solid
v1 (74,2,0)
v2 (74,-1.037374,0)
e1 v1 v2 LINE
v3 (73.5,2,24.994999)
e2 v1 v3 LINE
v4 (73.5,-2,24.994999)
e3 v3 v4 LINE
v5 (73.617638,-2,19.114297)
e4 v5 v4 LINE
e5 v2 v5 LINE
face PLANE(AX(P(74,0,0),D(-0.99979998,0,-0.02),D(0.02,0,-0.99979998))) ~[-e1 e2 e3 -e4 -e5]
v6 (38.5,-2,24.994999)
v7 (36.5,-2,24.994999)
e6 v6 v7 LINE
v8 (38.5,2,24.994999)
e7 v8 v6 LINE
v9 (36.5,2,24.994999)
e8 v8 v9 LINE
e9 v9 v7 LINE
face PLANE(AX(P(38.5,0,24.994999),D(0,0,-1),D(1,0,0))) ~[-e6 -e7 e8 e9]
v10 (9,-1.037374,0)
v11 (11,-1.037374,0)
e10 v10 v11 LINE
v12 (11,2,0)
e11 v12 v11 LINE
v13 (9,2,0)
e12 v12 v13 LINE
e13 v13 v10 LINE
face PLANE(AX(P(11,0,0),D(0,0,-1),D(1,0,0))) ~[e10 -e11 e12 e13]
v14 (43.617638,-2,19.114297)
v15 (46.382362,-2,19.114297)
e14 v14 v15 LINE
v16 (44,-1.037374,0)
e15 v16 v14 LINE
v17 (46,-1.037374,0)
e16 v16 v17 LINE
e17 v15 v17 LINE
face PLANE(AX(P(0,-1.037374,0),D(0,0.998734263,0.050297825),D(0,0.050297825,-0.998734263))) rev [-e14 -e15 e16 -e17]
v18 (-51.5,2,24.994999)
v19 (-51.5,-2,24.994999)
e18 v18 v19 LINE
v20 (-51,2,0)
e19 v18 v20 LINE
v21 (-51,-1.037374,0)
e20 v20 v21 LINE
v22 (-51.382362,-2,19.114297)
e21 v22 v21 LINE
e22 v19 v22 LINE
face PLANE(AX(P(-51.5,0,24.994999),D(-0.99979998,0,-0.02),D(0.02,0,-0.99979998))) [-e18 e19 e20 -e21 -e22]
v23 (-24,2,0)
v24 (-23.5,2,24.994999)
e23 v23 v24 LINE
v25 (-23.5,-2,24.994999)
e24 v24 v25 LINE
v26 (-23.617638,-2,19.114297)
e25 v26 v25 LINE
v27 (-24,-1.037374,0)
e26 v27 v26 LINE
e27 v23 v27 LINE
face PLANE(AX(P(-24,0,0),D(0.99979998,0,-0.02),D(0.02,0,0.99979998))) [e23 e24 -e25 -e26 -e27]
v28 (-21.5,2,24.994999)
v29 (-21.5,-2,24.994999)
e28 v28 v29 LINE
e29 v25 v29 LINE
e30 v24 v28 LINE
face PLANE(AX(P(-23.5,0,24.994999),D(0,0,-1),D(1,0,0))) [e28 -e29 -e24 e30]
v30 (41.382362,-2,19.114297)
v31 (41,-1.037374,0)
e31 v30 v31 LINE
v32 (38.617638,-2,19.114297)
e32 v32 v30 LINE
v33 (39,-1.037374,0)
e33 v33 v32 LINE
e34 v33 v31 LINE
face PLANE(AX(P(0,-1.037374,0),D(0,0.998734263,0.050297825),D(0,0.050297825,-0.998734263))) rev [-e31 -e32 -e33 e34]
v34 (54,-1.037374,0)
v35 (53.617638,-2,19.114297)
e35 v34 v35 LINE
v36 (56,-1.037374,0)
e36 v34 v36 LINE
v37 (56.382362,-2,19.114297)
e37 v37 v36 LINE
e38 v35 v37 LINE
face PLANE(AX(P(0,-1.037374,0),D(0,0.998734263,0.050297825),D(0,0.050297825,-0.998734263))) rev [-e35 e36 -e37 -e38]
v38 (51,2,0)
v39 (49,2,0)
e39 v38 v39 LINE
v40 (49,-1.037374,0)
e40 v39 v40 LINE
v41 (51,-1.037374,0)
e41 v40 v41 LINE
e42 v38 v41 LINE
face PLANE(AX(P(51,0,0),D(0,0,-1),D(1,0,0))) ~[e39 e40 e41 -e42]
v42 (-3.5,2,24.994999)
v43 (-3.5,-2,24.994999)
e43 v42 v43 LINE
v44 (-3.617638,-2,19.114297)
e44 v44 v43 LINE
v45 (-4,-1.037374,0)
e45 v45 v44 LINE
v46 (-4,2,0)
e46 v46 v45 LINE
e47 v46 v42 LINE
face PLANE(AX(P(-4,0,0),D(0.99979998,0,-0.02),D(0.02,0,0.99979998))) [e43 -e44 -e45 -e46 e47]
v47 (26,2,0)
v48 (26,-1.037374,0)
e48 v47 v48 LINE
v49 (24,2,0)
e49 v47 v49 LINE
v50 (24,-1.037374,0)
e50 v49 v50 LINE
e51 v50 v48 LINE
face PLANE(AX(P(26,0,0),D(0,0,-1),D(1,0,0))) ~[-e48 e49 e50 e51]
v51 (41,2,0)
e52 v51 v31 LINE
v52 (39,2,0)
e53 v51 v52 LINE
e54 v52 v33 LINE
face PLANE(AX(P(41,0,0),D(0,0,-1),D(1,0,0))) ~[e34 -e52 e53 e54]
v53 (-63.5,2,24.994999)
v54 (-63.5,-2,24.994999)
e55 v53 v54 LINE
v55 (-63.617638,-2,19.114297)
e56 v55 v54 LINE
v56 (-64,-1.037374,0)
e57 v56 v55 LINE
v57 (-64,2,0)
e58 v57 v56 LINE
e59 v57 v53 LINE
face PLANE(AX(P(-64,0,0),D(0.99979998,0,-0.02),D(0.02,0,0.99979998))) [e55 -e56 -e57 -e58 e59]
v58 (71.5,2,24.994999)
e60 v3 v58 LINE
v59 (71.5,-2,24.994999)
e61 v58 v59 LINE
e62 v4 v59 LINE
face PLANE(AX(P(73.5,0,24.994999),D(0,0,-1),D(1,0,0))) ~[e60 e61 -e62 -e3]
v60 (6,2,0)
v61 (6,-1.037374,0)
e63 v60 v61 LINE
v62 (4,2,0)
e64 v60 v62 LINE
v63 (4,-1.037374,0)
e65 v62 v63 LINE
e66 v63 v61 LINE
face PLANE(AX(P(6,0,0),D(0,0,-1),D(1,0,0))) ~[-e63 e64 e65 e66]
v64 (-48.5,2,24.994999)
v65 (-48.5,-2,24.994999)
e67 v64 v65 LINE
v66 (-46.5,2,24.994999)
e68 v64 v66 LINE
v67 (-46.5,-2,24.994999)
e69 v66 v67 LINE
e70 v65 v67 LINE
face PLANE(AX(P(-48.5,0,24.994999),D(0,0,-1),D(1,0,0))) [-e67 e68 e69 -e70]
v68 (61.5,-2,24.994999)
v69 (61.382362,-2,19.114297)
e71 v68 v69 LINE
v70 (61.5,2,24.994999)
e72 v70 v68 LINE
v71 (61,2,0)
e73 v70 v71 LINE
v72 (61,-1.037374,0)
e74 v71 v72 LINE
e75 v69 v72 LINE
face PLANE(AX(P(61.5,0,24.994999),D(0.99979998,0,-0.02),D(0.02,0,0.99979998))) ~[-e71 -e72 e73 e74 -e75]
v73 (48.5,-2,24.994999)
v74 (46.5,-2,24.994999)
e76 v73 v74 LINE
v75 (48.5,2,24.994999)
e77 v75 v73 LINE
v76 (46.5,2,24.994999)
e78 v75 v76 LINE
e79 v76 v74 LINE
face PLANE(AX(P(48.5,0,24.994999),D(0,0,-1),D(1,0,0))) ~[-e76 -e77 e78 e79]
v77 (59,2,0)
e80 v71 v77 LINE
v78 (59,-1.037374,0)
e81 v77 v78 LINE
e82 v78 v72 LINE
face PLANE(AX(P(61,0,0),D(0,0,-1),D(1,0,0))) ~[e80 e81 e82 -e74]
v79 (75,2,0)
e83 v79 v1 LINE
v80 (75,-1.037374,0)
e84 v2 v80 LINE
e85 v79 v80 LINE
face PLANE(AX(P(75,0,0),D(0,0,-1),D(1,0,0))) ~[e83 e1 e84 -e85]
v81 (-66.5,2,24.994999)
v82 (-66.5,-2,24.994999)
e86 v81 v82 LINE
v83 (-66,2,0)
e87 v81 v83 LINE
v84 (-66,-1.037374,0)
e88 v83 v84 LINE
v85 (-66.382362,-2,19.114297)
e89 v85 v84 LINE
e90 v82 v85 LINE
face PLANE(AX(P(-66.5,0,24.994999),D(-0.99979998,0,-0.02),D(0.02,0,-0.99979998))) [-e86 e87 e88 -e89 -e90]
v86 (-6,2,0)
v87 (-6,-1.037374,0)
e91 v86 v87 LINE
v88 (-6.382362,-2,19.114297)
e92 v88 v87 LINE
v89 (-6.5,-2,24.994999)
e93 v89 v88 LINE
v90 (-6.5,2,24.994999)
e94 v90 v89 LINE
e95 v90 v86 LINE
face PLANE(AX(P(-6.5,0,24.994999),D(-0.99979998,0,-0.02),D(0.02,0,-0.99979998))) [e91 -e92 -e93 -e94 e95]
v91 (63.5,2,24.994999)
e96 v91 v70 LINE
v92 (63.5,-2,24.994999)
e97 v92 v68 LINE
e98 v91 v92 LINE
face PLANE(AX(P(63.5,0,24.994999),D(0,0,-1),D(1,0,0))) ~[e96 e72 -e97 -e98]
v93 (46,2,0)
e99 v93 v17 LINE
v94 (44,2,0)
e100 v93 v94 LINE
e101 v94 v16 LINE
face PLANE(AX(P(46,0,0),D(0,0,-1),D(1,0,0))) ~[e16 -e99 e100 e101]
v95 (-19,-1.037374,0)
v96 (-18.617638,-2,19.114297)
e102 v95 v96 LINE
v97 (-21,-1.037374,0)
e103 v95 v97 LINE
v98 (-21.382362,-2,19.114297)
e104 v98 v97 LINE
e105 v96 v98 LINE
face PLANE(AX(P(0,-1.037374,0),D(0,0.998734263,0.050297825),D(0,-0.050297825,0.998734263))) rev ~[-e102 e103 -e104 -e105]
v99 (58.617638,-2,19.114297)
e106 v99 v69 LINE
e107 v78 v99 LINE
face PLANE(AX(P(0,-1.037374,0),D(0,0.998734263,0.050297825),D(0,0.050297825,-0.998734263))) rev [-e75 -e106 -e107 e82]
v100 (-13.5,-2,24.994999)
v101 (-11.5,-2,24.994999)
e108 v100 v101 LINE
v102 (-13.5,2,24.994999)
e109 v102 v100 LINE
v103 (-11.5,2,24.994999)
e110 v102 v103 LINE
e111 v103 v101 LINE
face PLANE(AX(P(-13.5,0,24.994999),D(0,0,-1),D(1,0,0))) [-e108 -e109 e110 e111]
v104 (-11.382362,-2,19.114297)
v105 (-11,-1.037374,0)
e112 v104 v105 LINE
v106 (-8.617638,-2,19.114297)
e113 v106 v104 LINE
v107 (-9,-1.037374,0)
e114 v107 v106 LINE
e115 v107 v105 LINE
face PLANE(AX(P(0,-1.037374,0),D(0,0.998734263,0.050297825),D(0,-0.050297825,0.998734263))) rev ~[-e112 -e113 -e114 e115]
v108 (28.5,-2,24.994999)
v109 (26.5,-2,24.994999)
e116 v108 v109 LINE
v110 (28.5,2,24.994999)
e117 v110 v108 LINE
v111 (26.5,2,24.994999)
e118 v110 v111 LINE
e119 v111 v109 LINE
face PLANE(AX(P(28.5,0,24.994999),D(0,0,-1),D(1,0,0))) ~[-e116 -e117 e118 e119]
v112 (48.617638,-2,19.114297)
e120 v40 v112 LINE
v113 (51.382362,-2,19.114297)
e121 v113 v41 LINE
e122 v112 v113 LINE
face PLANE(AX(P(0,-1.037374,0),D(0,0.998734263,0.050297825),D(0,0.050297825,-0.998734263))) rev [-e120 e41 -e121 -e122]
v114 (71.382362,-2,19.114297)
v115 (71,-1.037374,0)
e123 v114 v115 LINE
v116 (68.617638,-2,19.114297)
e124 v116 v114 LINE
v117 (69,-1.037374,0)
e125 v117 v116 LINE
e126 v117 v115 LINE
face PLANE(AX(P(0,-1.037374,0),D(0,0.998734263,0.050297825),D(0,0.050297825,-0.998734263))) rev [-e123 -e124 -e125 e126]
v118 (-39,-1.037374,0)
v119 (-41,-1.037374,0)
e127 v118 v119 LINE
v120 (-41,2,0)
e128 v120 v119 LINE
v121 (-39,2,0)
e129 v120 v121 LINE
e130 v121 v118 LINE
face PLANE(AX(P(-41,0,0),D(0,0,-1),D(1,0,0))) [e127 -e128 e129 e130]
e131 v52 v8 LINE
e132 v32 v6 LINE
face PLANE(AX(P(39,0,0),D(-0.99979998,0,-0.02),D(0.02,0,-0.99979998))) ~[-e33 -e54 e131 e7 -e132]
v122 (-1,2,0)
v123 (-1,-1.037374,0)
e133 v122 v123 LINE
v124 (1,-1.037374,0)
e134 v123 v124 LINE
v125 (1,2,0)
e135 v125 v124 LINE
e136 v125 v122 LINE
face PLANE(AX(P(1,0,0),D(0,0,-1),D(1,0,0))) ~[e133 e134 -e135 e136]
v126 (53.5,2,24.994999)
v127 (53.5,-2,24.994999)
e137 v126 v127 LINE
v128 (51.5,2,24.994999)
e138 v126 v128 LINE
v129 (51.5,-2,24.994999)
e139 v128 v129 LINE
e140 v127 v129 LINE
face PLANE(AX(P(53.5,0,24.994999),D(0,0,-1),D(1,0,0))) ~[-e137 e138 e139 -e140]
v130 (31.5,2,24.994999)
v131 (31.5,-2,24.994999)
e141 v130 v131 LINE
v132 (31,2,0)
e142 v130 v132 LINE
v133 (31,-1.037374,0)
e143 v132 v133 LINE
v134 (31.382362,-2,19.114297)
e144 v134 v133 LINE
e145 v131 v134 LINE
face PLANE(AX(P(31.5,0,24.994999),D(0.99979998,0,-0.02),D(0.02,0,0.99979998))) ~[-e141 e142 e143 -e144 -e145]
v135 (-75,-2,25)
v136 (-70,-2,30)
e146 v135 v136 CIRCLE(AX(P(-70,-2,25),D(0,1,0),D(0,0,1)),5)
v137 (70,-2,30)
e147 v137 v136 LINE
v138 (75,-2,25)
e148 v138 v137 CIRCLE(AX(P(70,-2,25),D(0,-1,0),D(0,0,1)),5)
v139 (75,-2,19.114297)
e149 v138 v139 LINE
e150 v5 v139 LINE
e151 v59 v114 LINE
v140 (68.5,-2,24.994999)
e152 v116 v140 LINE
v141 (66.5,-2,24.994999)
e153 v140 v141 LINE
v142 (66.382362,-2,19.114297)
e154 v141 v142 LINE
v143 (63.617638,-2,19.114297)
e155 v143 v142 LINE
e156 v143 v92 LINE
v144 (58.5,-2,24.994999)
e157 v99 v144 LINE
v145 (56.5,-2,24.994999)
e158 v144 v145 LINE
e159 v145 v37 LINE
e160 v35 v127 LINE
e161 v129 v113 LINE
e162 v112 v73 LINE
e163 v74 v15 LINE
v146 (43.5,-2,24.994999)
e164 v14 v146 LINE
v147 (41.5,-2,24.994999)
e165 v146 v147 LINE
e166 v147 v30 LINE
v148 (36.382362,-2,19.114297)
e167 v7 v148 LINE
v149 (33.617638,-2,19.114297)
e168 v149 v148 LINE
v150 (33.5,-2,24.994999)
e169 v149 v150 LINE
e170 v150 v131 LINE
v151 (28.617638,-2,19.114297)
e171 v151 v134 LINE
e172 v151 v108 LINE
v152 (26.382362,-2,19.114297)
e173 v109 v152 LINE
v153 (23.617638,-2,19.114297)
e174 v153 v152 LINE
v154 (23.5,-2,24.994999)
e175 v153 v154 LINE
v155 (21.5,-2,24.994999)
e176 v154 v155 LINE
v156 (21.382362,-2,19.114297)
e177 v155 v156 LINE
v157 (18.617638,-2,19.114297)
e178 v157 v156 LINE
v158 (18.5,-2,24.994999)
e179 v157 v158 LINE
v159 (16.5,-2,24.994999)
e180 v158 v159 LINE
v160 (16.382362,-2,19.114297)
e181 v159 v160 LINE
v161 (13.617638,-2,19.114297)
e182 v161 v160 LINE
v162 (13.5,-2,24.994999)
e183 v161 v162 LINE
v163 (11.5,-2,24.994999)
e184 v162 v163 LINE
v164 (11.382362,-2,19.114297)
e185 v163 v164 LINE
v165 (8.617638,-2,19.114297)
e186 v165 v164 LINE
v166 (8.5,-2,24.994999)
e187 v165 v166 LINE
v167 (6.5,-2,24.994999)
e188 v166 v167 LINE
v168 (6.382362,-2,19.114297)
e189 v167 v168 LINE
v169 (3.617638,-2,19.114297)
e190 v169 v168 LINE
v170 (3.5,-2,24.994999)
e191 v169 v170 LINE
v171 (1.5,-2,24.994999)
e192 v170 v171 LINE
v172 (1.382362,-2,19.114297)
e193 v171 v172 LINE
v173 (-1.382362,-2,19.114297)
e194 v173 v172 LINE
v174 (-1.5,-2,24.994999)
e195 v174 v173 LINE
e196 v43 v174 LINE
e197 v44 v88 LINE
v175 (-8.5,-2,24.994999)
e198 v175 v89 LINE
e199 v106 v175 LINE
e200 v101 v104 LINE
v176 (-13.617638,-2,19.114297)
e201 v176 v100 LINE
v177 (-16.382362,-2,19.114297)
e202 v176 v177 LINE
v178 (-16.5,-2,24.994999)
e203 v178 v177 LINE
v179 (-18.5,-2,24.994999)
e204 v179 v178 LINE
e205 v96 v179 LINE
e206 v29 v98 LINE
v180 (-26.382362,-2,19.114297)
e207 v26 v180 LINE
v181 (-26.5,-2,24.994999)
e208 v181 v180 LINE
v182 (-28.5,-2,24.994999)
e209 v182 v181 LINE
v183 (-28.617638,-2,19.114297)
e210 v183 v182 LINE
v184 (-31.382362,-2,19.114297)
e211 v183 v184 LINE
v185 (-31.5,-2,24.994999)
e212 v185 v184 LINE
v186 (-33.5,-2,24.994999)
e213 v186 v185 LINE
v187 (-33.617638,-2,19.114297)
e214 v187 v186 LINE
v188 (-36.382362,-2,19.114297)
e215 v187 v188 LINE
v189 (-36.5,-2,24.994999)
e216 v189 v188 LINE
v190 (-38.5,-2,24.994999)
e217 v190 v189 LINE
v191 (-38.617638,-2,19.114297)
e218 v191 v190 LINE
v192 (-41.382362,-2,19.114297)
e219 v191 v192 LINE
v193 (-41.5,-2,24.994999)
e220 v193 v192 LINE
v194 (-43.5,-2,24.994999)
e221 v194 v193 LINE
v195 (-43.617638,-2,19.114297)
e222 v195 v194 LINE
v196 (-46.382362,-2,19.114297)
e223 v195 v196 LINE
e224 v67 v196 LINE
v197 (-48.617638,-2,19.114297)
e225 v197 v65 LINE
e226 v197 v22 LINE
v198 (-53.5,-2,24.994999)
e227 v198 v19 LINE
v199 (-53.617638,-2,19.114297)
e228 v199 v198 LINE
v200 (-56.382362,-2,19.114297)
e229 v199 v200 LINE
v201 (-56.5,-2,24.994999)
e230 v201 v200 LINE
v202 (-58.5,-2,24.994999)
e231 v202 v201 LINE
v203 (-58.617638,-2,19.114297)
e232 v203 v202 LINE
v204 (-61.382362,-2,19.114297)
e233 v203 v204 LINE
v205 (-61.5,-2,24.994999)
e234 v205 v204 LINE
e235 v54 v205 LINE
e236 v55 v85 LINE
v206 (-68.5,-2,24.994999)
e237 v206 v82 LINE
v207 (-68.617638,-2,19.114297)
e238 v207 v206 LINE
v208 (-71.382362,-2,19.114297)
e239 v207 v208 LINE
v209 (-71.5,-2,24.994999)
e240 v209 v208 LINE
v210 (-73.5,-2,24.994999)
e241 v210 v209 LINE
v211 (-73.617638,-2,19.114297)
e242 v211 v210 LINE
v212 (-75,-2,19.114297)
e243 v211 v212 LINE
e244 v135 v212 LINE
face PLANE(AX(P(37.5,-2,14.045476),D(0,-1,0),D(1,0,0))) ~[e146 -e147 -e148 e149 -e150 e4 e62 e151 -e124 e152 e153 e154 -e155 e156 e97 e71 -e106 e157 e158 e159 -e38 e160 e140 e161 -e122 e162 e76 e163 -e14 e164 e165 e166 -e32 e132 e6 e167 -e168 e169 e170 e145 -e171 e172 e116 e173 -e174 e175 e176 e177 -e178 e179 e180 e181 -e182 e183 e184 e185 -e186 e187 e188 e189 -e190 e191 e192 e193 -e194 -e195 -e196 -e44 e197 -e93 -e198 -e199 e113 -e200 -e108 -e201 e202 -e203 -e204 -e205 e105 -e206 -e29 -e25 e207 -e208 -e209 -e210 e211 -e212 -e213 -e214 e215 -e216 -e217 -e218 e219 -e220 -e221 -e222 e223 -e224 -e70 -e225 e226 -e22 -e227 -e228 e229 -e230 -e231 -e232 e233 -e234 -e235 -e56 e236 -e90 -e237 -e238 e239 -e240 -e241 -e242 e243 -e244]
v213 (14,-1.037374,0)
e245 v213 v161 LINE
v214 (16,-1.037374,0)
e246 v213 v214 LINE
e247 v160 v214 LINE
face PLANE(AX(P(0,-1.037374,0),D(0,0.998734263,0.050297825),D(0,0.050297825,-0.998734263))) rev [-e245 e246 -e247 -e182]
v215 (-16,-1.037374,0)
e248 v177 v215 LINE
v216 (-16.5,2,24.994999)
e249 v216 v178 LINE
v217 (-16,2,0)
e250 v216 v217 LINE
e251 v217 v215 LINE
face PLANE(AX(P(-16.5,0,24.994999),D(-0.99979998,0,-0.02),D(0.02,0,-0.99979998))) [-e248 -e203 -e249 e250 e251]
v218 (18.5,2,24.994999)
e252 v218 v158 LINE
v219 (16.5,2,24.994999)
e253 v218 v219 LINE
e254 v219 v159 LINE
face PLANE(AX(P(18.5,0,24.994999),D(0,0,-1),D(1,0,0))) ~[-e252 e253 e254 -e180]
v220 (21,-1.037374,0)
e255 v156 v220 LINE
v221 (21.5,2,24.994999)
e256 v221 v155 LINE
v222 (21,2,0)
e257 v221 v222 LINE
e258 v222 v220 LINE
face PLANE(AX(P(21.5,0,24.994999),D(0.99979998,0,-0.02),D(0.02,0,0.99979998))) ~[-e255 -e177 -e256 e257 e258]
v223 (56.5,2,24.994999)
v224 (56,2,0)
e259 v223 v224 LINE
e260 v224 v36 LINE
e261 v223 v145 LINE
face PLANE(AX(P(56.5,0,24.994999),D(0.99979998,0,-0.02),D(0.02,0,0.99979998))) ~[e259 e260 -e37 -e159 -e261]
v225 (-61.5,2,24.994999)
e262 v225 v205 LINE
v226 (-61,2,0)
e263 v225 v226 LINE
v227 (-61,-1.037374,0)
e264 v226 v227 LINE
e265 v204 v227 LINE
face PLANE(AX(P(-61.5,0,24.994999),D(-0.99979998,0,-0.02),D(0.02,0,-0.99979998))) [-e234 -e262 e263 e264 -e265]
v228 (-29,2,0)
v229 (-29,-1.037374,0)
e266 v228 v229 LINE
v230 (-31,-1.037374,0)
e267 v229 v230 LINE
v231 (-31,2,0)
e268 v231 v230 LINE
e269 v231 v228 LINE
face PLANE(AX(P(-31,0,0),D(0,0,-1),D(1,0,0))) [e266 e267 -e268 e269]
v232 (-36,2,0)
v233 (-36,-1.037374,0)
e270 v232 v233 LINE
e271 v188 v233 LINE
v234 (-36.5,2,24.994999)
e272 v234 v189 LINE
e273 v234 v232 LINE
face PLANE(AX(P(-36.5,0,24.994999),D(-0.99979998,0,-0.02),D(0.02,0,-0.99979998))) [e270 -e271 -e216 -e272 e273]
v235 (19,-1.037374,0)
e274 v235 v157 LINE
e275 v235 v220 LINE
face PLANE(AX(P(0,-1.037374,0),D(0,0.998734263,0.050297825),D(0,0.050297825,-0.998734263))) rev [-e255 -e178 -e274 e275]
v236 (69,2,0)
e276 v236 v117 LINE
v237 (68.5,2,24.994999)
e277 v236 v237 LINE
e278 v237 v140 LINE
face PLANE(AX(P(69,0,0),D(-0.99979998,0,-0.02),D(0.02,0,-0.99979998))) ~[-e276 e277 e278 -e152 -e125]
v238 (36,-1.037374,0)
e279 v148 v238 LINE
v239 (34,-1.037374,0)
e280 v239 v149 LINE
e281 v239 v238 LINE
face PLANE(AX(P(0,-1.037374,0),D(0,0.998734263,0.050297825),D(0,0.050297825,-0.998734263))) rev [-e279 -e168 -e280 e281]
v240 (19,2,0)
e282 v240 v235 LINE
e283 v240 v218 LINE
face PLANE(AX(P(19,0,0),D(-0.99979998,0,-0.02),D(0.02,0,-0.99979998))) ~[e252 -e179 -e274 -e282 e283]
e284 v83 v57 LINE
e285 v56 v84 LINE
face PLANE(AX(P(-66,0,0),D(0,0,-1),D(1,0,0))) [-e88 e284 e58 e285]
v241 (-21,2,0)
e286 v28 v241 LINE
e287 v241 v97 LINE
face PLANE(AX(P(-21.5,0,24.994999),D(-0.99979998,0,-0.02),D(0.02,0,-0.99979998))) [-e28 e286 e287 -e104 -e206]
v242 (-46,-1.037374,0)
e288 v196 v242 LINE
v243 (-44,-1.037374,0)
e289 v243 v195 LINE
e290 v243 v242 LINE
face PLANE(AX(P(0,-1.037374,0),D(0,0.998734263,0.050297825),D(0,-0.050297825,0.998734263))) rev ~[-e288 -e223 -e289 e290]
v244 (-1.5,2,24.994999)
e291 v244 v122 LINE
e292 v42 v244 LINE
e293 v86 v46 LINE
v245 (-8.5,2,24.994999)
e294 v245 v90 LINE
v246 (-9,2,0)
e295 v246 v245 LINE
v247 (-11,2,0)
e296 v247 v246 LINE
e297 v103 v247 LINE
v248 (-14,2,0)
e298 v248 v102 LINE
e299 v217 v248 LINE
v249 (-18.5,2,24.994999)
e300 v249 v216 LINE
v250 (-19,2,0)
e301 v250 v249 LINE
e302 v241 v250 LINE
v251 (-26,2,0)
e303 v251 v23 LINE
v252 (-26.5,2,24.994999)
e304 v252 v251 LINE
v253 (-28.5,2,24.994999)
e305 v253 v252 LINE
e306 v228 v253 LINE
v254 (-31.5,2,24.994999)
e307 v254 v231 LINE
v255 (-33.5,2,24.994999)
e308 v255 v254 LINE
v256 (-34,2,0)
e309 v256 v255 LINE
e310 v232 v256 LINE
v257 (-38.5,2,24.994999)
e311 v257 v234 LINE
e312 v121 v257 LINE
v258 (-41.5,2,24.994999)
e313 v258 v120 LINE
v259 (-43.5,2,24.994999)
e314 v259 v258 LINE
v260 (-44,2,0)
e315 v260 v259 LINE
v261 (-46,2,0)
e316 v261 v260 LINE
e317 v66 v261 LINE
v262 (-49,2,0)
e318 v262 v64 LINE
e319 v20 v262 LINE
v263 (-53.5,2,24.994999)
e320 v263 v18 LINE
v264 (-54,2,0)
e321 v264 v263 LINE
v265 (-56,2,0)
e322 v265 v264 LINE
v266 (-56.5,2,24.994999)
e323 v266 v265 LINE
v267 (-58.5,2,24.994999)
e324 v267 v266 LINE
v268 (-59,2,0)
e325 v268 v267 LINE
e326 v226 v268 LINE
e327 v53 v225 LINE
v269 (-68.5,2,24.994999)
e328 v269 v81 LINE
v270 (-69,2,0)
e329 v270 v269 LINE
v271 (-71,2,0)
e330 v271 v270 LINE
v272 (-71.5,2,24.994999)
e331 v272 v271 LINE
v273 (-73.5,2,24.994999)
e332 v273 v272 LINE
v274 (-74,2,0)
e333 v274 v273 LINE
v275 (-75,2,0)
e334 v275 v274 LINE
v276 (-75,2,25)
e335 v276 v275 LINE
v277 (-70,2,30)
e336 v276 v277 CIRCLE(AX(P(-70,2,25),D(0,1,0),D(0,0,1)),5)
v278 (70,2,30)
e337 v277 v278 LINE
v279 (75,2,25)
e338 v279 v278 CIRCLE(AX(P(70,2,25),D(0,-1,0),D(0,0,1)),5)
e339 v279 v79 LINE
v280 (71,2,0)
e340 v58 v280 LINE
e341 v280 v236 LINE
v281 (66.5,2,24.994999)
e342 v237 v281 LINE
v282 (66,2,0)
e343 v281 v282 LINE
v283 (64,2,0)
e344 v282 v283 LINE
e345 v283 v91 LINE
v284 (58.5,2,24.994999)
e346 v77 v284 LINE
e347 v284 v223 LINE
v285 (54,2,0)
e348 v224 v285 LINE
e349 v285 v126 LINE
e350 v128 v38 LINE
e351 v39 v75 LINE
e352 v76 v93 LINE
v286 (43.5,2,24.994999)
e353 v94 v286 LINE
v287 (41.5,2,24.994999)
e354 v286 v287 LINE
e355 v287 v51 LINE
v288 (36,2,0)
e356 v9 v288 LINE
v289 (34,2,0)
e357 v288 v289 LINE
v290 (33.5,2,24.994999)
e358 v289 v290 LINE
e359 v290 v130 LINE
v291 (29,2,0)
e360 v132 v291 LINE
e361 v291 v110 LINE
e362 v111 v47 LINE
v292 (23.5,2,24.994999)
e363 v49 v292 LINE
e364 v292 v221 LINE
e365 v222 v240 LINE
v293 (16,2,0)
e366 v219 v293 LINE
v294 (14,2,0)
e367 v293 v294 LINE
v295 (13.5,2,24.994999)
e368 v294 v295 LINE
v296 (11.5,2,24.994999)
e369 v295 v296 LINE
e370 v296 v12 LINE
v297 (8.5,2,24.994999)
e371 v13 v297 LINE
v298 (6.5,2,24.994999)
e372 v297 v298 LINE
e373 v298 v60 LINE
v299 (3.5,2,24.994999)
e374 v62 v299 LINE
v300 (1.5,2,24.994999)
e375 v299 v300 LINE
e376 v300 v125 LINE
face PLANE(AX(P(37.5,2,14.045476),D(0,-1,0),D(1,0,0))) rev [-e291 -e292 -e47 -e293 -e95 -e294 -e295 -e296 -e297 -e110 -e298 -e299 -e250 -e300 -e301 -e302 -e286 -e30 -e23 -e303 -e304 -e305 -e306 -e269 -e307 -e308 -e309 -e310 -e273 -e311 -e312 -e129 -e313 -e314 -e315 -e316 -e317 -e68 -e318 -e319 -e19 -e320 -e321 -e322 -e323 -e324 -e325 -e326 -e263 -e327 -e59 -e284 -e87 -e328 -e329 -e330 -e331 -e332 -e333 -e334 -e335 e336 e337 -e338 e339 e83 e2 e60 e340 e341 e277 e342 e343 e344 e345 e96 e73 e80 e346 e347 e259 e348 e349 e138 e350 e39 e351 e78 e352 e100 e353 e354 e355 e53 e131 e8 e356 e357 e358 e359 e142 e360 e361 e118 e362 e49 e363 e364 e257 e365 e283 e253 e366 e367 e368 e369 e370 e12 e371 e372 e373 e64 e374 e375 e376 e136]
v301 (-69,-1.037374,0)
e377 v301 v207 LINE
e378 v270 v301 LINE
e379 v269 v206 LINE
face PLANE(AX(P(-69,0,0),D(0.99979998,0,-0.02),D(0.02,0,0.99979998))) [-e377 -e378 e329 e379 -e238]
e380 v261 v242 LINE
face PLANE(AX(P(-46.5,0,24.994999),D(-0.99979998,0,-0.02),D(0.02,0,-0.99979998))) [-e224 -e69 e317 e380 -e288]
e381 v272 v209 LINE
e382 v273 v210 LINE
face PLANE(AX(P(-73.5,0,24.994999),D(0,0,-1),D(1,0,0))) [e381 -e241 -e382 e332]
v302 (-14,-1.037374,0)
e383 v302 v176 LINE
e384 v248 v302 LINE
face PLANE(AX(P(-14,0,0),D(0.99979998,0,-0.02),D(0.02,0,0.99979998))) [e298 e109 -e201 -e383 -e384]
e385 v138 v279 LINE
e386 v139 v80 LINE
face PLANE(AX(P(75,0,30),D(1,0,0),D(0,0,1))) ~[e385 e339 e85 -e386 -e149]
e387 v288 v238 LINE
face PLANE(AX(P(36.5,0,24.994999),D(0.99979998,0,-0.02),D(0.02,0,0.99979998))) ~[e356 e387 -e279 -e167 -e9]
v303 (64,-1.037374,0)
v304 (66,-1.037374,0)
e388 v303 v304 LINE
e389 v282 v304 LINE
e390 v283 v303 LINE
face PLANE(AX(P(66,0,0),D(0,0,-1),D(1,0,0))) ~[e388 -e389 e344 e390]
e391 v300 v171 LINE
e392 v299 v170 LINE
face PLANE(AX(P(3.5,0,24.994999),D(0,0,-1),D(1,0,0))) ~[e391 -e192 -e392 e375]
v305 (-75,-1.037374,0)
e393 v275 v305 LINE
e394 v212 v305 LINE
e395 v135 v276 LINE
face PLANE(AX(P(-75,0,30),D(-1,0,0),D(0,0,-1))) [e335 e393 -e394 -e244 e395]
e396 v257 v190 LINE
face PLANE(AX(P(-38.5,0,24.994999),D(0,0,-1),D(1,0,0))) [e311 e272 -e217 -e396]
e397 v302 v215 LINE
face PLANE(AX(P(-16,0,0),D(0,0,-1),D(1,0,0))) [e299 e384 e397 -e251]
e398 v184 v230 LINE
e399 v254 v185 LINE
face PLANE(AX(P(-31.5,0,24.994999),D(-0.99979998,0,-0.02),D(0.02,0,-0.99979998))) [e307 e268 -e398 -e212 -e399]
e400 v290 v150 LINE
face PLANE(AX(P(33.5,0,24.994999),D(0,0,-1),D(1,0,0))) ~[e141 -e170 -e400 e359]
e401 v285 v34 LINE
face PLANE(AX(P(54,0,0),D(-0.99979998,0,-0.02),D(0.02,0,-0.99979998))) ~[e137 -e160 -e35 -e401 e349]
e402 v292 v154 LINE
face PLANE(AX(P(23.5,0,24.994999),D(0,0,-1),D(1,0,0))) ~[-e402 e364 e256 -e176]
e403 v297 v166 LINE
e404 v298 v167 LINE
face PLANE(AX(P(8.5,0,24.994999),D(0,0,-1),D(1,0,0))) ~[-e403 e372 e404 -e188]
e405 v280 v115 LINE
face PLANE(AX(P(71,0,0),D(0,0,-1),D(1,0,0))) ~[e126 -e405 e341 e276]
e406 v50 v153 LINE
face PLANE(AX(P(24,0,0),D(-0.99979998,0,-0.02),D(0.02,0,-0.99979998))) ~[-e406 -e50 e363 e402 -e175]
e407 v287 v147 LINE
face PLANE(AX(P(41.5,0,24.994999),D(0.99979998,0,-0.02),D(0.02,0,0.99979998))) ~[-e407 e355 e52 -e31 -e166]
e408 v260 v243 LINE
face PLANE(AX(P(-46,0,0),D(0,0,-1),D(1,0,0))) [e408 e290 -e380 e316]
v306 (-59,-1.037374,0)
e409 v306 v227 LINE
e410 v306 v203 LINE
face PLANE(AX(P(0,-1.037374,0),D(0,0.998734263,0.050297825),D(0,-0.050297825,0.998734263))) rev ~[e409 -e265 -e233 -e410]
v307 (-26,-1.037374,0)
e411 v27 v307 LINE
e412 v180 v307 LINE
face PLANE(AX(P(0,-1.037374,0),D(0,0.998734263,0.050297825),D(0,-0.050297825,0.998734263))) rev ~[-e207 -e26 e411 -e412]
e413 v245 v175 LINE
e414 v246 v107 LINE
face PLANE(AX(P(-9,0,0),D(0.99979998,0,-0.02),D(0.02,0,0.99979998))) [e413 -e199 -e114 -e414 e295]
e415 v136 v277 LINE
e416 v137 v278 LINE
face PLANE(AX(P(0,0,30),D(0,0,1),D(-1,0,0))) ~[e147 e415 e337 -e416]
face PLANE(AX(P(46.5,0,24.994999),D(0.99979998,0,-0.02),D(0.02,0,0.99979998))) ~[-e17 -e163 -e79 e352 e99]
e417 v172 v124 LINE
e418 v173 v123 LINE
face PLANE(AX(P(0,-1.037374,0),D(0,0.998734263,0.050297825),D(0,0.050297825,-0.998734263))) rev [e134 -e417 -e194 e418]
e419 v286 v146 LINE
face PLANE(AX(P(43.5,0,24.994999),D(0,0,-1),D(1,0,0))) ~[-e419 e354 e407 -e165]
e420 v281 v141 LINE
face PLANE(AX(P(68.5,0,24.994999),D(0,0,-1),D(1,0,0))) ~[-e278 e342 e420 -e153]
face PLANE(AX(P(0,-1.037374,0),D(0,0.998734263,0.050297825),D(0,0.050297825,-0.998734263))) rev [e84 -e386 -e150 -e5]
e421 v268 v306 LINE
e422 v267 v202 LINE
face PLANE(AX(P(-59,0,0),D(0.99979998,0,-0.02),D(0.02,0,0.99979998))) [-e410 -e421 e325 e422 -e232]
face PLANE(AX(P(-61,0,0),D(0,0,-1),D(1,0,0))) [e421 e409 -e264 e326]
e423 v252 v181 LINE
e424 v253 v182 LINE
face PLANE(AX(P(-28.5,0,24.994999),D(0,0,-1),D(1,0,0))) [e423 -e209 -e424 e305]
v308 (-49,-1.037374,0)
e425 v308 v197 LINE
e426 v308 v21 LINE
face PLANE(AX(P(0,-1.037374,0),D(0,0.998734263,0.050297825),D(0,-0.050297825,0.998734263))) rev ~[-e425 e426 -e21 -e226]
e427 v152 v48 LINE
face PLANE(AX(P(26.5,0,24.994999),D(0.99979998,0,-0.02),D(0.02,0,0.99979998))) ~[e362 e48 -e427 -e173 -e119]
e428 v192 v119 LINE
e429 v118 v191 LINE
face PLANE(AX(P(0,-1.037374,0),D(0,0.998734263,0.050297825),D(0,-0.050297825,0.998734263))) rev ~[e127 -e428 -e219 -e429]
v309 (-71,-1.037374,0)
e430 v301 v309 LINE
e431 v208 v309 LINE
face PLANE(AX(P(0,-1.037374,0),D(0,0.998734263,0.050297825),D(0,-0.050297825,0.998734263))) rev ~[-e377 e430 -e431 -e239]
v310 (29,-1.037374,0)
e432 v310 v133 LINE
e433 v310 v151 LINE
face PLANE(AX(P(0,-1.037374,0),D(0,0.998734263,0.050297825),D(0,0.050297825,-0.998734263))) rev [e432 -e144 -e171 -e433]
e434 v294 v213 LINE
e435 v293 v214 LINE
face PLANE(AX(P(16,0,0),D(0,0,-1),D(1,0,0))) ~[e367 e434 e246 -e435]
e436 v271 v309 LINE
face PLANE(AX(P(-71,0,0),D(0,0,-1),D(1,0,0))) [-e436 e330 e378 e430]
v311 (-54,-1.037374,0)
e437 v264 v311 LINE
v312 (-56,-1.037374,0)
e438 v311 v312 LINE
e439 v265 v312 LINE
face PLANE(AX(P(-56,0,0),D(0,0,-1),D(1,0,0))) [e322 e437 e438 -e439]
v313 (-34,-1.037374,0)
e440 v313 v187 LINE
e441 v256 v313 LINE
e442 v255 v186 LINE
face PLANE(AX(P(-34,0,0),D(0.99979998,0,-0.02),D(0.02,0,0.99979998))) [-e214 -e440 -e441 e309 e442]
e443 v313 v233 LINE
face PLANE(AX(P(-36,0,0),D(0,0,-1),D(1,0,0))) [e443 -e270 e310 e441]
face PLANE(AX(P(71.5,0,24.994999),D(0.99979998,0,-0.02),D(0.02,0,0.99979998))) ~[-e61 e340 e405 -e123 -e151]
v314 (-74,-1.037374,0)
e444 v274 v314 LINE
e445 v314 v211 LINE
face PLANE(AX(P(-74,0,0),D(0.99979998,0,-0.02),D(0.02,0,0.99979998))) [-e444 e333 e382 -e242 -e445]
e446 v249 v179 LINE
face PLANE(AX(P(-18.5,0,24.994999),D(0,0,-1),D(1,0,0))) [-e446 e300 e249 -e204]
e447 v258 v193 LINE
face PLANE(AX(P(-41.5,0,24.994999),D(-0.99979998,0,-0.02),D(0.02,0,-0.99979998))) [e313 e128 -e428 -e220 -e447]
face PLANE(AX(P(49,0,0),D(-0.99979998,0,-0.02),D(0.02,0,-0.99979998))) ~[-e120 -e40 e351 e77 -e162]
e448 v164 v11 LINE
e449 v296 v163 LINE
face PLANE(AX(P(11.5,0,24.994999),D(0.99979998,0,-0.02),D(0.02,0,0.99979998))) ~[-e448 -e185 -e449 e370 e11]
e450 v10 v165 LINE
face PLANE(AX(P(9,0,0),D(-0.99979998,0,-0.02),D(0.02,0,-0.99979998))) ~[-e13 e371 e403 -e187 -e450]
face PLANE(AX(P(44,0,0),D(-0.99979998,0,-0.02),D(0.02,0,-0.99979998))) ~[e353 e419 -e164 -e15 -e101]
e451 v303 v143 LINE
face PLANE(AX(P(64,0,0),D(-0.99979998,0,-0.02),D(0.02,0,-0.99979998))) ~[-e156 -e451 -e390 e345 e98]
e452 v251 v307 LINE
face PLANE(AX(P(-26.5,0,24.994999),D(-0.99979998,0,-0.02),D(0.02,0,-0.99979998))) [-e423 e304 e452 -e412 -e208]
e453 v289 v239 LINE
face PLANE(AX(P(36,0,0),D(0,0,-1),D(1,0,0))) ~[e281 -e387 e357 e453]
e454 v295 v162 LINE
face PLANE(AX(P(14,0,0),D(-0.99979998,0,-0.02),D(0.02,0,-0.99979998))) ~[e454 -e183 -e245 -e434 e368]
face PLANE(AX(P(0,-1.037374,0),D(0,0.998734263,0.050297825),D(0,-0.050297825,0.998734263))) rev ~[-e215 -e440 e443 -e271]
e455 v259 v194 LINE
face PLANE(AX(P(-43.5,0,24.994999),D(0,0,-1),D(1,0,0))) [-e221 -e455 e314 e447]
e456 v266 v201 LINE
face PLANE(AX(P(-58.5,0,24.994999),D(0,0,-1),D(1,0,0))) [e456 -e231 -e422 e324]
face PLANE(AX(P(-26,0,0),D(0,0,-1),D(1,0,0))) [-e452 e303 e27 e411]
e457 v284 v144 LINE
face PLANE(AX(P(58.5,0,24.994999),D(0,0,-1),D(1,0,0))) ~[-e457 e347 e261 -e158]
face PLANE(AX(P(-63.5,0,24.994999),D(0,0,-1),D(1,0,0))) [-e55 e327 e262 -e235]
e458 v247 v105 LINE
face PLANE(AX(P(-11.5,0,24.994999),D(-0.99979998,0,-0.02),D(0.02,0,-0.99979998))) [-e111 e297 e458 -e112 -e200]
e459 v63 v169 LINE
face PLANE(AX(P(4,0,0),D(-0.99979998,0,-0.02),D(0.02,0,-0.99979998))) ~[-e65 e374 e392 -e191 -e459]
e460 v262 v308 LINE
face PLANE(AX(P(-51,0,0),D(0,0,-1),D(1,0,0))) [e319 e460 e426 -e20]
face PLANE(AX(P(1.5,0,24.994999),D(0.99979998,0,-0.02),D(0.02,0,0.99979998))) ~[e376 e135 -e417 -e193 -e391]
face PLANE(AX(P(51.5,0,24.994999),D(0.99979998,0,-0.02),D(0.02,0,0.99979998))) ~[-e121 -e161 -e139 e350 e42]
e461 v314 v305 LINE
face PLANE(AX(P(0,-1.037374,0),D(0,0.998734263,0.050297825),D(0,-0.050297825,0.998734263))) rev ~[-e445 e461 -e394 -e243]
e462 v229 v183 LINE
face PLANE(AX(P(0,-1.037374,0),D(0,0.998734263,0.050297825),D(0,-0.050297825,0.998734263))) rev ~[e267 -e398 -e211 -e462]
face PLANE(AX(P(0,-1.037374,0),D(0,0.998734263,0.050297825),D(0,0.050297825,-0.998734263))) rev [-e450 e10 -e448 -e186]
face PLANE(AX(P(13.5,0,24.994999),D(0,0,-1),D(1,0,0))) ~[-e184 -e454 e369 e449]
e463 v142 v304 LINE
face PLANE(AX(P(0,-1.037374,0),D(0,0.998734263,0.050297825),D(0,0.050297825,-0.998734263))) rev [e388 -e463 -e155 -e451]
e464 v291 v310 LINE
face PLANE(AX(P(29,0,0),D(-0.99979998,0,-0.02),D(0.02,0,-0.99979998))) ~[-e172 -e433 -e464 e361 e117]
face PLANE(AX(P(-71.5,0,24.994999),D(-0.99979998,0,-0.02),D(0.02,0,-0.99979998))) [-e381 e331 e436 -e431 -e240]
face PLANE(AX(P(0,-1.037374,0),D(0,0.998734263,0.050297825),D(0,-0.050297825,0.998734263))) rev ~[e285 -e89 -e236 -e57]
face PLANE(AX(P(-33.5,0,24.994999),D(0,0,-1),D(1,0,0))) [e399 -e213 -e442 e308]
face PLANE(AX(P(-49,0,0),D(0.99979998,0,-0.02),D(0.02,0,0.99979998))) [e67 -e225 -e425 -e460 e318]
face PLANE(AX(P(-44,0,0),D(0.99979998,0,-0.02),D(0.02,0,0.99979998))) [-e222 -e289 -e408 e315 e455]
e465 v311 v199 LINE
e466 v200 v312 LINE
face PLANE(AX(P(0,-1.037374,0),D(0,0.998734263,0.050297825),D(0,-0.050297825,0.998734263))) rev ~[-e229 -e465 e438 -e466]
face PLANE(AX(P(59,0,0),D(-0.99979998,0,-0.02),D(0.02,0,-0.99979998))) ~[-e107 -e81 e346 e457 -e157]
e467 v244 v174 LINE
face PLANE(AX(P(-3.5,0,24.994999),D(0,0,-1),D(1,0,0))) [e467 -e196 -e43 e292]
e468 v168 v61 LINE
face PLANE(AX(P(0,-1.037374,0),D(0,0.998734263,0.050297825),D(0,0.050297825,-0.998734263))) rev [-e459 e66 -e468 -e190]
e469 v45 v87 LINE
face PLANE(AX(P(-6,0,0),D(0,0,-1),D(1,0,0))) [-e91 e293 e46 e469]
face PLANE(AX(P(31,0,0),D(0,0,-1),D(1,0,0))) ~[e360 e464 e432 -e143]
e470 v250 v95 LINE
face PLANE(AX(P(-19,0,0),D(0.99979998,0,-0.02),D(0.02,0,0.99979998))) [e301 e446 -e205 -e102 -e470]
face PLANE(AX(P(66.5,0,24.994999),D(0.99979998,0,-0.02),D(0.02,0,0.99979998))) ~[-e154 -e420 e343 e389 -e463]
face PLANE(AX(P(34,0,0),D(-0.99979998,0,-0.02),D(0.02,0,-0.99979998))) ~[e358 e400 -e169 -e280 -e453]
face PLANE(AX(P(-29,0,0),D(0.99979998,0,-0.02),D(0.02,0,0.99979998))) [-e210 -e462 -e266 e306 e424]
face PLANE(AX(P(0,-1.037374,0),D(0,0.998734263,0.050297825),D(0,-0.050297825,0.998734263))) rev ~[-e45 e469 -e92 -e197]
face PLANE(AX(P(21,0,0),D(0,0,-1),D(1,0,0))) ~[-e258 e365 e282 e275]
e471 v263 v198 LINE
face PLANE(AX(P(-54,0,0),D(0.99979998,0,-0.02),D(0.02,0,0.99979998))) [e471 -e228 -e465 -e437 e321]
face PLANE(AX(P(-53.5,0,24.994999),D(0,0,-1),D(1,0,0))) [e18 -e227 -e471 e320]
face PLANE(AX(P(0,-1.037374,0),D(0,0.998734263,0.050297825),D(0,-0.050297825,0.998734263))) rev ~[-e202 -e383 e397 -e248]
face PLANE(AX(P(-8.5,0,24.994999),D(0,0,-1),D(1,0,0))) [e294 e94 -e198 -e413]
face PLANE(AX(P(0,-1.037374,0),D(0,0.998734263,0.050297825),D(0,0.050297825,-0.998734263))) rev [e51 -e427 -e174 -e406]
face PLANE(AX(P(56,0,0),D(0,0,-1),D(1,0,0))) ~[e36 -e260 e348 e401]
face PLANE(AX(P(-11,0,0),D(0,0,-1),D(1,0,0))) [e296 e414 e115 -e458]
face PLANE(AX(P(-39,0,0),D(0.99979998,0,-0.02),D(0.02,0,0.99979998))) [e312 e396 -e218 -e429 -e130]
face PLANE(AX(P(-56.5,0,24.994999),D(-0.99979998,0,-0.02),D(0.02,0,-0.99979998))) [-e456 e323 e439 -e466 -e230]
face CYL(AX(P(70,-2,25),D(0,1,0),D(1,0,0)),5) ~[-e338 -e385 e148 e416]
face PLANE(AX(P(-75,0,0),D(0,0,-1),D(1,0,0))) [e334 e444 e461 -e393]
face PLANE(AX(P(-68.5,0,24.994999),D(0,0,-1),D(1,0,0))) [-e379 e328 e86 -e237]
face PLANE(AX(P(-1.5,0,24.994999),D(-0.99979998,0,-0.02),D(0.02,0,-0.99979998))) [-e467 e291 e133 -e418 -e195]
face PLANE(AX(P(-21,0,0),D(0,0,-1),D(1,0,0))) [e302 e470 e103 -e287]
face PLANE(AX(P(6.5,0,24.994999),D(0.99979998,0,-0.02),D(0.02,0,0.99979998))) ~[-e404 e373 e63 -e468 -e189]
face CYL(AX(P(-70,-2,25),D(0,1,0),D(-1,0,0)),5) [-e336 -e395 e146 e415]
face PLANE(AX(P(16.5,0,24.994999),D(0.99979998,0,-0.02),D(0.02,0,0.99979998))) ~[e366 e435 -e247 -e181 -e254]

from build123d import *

# Parameters (mm, degrees)
F1_DEPTH = 2
F2_R     = 5
F4_DEPTH = 208


with BuildPart() as f1:
    # F0 (on Front) → F1 (new body, symmetric)
    with BuildSketch(Plane.XZ):
        Polygon((-75, 30), (-75, 0), (-74, 0), (-73.5, 24.994999), (-71.5, 24.994999), (-71, 0), (-69, 0), (-68.5, 24.994999), (-66.5, 24.994999), (-66, 0), (-64, 0), (-63.5, 24.994999), (-61.5, 24.994999), (-61, 0), (-59, 0), (-58.5, 24.994999), (-56.5, 24.994999), (-56, 0), (-54, 0), (-53.5, 24.994999), (-51.5, 24.994999), (-51, 0), (-49, 0), (-48.5, 24.994999), (-46.5, 24.994999), (-46, 0), (-44, 0), (-43.5, 24.994999), (-41.5, 24.994999), (-41, 0), (-39, 0), (-38.5, 24.994999), (-36.5, 24.994999), (-36, 0), (-34, 0), (-33.5, 24.994999), (-31.5, 24.994999), (-31, 0), (-29, 0), (-28.5, 24.994999), (-26.5, 24.994999), (-26, 0), (-24, 0), (-23.5, 24.994999), (-21.5, 24.994999), (-21, 0), (-19, 0), (-18.5, 24.994999), (-16.5, 24.994999), (-16, 0), (-14, 0), (-13.5, 24.994999), (-11.5, 24.994999), (-11, 0), (-9, 0), (-8.5, 24.994999), (-6.5, 24.994999), (-6, 0), (-4, 0), (-3.5, 24.994999), (-1.5, 24.994999), (-1, 0), (0, 0), (0, 30), align=None)
    extrude(amount=F1_DEPTH, both=True)

    # F2
    f2_edges = [f1.edges().sort_by_distance(p)[0] for p in [
        (-75, 0, 30),
    ]]
    fillet(f2_edges, radius=F2_R)

    # F3 (on Right) → F4 (cut)
    with BuildSketch(Plane.YZ):
        Polygon((-1.037374, 0), (-2, 19.114297), (-2, 0), align=None)
    extrude(amount=-F4_DEPTH, mode=Mode.SUBTRACT)

    # F5: F1 across face


with BuildPart() as f1_1:
    add(f1.part)
    add(f1.part.mirror(Plane(origin=(0, 0.139421, 15.716448), x_dir=(0, 1, 0), z_dir=(1, 0, 0))))


solid = f1_1.part
